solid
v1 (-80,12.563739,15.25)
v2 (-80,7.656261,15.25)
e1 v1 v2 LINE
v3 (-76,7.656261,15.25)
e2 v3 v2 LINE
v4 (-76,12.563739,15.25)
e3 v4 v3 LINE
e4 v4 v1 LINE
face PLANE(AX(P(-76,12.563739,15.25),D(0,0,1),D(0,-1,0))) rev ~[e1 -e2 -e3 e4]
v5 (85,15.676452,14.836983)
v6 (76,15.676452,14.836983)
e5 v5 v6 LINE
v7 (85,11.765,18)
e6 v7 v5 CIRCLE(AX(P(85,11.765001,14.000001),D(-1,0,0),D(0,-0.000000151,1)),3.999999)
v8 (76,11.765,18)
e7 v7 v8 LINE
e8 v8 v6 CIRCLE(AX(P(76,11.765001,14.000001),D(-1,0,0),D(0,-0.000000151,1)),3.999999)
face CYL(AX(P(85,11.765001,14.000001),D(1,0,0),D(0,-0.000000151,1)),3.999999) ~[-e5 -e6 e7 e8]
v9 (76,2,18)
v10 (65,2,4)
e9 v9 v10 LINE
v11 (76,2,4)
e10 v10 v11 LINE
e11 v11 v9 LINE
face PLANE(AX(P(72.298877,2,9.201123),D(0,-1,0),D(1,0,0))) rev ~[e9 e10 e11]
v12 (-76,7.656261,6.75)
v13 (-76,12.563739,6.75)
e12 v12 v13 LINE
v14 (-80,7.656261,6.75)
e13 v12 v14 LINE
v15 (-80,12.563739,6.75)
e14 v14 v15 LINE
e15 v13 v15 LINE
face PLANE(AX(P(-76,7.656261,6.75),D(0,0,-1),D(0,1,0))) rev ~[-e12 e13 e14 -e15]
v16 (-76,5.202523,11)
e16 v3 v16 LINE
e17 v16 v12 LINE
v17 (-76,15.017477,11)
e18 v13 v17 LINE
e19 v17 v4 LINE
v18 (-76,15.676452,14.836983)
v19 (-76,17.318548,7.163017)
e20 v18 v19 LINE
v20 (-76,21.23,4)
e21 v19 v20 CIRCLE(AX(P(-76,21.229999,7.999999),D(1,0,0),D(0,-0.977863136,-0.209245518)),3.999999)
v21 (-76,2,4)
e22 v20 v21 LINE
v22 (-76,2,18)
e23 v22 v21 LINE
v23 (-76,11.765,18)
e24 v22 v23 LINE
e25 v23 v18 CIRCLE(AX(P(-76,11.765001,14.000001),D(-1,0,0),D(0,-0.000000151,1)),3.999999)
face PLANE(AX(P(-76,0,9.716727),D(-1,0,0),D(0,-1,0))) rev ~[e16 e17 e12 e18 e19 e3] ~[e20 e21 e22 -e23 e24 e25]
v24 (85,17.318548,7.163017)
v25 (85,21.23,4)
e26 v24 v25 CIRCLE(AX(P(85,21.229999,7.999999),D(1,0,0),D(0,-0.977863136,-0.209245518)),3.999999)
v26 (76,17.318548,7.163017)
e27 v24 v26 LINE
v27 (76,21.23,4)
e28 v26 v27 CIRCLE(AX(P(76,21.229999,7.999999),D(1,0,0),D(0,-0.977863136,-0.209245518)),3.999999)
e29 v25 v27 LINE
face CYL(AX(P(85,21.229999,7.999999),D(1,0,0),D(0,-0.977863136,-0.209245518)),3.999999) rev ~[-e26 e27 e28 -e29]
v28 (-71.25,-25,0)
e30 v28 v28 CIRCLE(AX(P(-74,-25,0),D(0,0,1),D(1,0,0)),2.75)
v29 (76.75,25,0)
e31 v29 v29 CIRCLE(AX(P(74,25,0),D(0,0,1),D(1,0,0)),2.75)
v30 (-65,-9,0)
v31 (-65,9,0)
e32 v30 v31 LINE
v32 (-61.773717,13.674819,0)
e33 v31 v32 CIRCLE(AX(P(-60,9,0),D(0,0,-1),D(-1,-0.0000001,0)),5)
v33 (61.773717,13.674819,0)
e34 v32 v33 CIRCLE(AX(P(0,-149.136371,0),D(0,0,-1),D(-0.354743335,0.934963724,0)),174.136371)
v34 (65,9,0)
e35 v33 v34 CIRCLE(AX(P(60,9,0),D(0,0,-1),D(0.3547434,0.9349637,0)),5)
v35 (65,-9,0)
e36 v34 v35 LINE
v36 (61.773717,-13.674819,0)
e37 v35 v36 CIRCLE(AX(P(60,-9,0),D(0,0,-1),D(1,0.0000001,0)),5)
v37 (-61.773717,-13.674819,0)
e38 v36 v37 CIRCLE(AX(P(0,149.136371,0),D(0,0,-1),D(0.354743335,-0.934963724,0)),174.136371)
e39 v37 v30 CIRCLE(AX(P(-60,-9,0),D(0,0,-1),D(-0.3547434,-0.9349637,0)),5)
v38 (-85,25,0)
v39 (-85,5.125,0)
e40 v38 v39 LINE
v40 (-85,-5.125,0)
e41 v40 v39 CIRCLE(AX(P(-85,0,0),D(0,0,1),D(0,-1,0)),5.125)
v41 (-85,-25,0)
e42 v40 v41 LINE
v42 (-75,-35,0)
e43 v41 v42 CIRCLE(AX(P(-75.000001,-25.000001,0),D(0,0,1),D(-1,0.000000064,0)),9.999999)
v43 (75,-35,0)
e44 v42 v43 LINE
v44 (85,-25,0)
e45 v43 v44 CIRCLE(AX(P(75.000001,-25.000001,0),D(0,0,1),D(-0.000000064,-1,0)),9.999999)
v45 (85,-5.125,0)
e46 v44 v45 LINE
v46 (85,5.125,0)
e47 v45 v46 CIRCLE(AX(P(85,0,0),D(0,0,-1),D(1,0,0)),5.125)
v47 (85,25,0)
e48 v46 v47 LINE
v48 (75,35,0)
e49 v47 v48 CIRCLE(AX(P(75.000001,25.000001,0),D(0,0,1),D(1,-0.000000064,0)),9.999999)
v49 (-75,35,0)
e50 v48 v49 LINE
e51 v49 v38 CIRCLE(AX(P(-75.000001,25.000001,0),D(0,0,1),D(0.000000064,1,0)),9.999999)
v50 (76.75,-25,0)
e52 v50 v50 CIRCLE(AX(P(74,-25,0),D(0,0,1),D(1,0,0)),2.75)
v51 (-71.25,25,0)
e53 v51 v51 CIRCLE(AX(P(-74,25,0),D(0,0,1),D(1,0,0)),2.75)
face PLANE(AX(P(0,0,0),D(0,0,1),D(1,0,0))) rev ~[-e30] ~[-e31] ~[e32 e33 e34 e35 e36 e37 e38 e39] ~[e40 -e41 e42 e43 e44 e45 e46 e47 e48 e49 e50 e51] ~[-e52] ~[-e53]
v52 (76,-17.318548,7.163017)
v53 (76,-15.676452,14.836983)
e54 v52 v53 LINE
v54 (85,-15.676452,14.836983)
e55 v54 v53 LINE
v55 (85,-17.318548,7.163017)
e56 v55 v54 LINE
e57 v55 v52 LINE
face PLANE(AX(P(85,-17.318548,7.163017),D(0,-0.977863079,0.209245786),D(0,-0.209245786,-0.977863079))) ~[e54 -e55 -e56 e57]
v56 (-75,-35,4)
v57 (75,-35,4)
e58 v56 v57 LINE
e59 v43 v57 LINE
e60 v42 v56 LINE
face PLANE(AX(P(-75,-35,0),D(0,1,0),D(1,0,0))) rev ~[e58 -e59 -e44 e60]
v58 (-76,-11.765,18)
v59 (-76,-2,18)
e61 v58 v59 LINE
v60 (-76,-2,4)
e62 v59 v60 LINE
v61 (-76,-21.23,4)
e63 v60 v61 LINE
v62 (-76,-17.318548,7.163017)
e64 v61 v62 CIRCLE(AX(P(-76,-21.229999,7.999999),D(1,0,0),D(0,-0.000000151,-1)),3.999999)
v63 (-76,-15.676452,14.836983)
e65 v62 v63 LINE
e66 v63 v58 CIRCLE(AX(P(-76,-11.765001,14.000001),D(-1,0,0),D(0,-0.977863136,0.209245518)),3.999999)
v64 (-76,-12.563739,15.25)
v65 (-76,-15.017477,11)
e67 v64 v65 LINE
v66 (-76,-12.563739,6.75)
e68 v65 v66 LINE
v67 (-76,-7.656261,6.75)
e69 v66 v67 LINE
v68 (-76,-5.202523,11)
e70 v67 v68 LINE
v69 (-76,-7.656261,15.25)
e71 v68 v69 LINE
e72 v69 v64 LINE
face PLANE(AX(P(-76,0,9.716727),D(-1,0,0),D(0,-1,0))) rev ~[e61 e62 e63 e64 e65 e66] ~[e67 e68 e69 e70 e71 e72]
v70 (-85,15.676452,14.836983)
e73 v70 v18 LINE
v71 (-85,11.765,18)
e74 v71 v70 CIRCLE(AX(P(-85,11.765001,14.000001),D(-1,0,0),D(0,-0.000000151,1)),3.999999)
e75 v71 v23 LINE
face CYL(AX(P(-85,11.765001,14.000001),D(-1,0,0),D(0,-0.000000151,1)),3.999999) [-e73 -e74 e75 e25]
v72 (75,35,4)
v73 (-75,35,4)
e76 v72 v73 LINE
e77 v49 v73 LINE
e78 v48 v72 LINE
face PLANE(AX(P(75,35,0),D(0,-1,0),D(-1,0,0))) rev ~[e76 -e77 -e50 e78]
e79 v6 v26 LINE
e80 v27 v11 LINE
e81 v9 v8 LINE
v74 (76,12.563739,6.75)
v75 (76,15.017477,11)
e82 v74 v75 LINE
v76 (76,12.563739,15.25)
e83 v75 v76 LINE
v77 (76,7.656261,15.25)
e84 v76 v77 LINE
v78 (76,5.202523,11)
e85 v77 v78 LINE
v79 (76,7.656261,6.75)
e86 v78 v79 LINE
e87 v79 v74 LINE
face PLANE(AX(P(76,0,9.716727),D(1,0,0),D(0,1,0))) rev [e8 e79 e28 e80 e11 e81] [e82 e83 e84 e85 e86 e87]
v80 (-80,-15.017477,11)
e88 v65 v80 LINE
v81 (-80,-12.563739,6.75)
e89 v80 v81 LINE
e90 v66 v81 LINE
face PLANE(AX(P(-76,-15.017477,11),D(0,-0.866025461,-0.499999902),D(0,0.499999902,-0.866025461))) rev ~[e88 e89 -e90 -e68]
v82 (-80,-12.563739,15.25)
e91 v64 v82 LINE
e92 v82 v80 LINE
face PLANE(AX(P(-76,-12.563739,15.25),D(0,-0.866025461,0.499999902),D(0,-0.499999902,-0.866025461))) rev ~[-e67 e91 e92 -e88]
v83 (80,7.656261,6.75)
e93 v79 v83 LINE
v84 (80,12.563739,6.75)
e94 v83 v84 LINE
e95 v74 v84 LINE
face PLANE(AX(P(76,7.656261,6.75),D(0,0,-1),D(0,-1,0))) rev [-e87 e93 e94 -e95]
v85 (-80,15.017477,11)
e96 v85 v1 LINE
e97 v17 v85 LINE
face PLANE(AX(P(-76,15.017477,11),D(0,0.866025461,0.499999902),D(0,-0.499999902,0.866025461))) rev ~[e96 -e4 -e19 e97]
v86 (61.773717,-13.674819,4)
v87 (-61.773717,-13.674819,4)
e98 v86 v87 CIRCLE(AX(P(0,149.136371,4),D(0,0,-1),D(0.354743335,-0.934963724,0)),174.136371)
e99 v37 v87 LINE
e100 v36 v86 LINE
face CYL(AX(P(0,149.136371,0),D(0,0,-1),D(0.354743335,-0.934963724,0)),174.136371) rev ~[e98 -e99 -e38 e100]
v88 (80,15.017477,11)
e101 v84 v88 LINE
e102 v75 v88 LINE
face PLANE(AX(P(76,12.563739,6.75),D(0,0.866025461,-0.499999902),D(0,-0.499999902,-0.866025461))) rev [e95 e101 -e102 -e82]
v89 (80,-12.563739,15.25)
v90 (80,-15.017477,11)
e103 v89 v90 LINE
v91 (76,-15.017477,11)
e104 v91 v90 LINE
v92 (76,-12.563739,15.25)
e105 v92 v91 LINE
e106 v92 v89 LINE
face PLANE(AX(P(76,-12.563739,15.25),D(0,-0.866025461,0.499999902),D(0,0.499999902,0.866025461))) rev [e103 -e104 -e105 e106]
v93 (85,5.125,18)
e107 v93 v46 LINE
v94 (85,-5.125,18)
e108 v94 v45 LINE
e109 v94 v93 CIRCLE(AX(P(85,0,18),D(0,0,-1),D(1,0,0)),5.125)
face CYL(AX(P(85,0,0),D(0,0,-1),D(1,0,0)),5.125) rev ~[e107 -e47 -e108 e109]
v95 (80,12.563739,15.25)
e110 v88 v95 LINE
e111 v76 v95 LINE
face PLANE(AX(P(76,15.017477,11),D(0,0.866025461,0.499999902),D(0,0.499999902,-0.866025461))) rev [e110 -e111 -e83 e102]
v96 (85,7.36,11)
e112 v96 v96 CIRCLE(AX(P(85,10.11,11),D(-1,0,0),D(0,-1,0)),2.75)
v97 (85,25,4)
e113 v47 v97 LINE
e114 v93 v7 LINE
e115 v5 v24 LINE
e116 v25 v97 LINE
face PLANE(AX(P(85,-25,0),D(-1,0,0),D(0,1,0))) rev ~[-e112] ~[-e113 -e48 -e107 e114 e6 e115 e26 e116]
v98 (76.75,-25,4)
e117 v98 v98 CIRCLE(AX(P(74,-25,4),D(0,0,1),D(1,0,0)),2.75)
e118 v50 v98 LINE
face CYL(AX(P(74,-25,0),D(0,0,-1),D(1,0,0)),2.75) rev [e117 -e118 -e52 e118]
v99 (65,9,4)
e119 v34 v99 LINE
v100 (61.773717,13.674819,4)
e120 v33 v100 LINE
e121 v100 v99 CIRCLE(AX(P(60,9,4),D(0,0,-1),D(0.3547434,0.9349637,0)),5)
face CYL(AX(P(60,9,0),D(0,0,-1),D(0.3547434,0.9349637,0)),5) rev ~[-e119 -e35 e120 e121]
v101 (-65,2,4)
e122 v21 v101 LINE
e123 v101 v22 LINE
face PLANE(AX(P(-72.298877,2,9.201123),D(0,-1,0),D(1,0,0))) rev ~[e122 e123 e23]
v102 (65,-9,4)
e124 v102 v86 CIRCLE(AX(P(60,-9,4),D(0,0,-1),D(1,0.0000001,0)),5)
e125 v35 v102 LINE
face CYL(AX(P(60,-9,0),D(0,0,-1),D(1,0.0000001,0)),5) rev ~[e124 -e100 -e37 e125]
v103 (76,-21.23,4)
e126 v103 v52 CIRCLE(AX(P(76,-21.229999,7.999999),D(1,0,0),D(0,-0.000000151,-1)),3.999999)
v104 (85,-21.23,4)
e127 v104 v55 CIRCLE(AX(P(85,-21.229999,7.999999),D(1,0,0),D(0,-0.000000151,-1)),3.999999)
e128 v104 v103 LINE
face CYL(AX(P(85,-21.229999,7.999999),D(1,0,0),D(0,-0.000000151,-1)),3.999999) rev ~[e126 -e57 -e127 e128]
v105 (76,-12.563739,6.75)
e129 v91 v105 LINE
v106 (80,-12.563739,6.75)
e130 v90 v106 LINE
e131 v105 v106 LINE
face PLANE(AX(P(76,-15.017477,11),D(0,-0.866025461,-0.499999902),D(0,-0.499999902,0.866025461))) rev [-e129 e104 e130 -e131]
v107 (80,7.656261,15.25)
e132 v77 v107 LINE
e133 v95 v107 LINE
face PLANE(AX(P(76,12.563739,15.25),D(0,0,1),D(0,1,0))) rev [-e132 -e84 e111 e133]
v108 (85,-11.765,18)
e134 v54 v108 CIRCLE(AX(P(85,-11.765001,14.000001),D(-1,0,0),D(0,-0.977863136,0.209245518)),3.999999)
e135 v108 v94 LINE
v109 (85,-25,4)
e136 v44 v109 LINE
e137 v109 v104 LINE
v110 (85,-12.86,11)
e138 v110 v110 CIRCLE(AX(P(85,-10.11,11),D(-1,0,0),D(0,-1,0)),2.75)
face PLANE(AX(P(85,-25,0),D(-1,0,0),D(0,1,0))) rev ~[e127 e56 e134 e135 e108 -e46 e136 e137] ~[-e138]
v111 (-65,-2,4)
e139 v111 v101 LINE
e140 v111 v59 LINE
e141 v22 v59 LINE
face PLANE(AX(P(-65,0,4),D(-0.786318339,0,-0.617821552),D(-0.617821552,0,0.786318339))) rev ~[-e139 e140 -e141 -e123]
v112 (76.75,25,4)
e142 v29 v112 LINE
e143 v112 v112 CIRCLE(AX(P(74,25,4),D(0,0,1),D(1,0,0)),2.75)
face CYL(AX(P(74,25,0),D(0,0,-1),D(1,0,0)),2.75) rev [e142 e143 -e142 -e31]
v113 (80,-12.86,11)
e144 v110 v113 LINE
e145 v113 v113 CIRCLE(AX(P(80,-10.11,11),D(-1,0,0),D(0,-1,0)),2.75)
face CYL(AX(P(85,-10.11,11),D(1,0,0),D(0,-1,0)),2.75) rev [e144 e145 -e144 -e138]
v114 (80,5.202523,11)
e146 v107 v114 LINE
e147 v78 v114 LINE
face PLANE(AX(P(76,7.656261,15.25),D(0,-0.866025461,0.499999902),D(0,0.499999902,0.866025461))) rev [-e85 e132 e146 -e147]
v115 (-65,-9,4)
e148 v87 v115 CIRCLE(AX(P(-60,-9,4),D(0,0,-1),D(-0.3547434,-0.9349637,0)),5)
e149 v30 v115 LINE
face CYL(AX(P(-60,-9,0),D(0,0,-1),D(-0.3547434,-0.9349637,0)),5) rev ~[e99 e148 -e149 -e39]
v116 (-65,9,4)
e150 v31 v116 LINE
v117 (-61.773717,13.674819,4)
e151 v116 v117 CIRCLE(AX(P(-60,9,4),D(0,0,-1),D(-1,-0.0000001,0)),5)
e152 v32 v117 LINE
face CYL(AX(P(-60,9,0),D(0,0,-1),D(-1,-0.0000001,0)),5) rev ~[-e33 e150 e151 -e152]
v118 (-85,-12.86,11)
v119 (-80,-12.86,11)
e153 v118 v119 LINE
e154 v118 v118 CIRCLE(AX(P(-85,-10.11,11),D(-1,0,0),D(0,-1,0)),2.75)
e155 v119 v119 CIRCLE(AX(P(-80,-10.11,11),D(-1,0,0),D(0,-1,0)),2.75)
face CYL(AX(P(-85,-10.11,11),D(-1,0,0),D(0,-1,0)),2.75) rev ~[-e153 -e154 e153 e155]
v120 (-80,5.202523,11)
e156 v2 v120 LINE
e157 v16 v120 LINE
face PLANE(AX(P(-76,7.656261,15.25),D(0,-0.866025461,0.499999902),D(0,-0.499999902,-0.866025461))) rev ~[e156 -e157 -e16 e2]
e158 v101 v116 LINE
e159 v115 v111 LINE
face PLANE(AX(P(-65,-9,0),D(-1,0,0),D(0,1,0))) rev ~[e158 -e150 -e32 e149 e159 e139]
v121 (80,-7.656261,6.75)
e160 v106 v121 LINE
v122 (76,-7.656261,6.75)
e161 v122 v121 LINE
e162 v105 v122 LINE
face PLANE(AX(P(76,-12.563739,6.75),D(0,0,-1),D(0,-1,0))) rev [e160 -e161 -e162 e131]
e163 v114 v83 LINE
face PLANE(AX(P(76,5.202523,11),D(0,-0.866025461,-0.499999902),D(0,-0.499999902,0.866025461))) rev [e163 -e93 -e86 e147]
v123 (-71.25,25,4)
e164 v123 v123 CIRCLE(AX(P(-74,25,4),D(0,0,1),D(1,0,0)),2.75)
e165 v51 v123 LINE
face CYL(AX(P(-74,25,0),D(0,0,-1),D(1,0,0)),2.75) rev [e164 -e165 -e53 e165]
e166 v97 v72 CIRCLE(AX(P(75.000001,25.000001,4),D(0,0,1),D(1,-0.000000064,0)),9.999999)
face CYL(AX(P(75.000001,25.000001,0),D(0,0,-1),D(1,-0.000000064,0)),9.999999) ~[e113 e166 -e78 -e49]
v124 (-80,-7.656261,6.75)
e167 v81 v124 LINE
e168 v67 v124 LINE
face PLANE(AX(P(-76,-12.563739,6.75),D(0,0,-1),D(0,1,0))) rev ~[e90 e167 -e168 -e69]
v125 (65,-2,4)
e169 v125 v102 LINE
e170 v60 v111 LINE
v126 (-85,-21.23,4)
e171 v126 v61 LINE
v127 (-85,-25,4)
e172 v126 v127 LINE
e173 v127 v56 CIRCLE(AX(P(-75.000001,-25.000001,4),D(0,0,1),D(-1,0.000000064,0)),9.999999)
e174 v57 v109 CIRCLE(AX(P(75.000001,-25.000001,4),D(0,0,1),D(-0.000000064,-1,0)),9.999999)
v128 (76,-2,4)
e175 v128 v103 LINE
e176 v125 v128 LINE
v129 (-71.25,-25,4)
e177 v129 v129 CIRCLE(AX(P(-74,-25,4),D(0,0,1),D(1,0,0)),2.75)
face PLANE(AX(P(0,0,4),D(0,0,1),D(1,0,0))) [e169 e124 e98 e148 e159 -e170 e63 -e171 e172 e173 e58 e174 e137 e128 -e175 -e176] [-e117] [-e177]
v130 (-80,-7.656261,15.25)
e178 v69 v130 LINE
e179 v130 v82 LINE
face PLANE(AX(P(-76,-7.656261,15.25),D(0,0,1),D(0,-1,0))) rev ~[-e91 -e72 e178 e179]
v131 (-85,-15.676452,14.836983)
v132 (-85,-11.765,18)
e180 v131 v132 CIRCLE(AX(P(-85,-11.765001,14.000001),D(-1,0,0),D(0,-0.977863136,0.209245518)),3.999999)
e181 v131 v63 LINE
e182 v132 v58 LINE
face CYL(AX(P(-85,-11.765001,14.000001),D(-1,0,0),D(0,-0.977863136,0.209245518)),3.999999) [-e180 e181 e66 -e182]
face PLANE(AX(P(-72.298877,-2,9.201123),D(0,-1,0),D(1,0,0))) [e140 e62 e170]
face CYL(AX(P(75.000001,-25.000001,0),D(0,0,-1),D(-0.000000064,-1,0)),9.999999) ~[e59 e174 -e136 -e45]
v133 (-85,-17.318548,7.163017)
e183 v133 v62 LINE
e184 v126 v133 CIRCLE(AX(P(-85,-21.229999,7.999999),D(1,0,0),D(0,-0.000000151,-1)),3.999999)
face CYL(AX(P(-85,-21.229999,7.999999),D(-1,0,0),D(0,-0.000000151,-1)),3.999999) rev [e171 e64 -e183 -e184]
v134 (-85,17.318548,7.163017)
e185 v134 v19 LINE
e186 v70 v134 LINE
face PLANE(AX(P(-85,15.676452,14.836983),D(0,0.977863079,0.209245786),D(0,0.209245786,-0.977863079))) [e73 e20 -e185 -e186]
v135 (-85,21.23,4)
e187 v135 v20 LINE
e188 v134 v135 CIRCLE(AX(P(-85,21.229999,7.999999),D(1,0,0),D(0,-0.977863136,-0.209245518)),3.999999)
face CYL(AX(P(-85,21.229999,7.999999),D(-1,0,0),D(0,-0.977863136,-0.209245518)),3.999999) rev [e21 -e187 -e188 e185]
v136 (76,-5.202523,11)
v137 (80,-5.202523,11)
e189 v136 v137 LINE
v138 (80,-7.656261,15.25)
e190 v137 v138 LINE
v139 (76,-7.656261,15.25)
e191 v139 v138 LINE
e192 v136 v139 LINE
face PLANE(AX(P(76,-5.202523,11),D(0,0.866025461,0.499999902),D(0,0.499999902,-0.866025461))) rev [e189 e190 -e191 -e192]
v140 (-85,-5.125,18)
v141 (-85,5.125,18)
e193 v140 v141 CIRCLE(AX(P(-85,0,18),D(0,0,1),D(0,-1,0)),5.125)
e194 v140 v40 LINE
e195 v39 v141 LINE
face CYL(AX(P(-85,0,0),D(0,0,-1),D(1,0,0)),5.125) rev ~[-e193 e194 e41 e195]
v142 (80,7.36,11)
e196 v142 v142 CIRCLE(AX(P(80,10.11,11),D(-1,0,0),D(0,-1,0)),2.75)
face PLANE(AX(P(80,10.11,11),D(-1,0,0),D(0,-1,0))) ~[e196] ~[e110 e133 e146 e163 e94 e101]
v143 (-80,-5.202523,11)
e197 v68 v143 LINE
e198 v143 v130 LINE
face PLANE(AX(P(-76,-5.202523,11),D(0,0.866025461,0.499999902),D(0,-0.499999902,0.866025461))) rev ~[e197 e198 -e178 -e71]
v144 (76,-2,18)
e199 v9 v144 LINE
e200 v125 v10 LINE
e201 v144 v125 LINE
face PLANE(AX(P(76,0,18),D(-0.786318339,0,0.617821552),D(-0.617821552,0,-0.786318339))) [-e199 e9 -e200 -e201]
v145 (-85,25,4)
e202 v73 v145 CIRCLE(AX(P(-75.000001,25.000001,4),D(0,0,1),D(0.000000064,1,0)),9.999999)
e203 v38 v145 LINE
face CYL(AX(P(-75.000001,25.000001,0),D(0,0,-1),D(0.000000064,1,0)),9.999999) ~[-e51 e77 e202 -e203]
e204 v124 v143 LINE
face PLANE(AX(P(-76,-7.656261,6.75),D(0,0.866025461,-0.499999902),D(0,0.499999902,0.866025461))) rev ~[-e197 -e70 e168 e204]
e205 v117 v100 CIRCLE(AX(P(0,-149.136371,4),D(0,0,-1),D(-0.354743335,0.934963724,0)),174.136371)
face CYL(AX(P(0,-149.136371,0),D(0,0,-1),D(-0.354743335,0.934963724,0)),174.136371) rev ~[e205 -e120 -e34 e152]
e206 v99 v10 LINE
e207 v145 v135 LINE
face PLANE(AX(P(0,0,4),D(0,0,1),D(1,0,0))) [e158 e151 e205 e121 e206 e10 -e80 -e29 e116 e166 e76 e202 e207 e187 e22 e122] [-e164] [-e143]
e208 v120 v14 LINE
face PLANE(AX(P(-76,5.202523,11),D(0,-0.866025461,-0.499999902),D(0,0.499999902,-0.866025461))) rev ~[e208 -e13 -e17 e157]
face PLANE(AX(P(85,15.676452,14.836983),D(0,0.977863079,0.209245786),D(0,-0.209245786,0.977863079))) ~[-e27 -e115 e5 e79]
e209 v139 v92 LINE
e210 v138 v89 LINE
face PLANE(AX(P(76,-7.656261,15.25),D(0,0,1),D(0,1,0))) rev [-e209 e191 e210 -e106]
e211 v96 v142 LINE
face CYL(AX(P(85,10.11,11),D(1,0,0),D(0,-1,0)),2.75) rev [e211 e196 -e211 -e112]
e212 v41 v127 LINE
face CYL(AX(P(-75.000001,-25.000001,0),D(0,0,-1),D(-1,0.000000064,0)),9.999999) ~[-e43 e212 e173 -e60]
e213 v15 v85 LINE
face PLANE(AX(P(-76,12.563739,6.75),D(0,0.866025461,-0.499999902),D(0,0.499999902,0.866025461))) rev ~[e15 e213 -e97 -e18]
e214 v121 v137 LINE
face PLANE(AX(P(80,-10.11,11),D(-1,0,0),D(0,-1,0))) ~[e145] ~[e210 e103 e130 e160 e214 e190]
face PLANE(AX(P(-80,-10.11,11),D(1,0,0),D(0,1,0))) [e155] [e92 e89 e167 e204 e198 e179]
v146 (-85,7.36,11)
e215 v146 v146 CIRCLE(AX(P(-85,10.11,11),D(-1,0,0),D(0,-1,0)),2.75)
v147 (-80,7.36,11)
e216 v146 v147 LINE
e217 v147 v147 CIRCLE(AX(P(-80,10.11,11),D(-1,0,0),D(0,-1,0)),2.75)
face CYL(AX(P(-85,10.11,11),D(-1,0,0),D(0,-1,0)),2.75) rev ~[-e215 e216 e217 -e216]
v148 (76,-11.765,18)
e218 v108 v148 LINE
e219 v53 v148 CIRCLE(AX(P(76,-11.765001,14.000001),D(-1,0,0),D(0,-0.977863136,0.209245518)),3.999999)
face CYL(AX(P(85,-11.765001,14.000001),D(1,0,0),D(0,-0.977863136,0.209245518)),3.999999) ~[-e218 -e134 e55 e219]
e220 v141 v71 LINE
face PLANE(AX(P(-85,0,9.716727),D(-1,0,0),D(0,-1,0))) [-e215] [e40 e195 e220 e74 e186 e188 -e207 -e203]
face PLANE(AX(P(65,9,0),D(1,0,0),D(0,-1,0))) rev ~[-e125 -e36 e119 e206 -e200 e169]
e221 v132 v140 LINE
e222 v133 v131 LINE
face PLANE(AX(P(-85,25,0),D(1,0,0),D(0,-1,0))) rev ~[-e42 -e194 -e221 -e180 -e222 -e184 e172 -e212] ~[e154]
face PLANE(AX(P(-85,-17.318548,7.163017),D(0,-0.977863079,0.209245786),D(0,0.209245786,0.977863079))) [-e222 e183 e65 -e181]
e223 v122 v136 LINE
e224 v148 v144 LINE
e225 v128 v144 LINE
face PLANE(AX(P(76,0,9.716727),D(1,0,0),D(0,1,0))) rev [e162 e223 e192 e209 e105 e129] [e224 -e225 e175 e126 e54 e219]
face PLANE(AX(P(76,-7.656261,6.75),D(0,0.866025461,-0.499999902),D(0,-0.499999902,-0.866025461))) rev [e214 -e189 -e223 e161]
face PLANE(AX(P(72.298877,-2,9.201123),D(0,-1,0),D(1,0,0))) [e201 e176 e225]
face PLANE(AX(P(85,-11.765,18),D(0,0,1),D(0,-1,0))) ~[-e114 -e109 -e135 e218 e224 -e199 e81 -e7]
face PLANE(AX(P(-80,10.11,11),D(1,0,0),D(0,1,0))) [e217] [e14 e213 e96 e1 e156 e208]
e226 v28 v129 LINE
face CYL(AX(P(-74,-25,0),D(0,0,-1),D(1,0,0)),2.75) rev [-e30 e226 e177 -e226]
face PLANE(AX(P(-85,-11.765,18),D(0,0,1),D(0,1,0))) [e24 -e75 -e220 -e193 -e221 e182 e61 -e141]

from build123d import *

# Parameters (mm, degrees)
F0_R      = 2.75
F1_DEPTH  = 4
F2_R      = 2.75
F3_DEPTH  = 9
F5_DEPTH  = 4
F7_R      = 5.125
F8_DEPTH  = 18.001
F10_DEPTH = 2


with BuildPart() as f1:
    # F0 (on Top) → F1 (new body)
    with BuildSketch(Plane.XY):
        with BuildLine():
            ThreePointArc((85, 25), (82.071068, 32.071068), (75, 35))
            Line((75, 35), (-75, 35))
            ThreePointArc((-75, 35), (-82.071068, 32.071068), (-85, 25))
            Line((-85, 25), (-85, -25))
            ThreePointArc((-85, -25), (-82.071068, -32.071068), (-75, -35))
            Line((-75, -35), (75, -35))
            ThreePointArc((75, -35), (82.071068, -32.071068), (85, -25))
            Line((85, -25), (85, 25))
        make_face()
        with Locations((-74, -25)):
            Circle(F0_R, mode=Mode.SUBTRACT)
        with Locations((74, -25)):
            Circle(F0_R, mode=Mode.SUBTRACT)
        with BuildLine():
            ThreePointArc((61.773717, 13.674819), (64.11513, 11.840019), (65, 9))
            Line((65, 9), (65, -9))
            ThreePointArc((65, -9), (64.11513, -11.840019), (61.773717, -13.674819))
            ThreePointArc((61.773717, -13.674819), (0, -25), (-61.773717, -13.674819))
            ThreePointArc((-61.773717, -13.674819), (-64.11513, -11.840019), (-65, -9))
            Line((-65, -9), (-65, 9))
            ThreePointArc((-65, 9), (-64.11513, 11.840019), (-61.773717, 13.674819))
            ThreePointArc((-61.773717, 13.674819), (0, 25), (61.773717, 13.674819))
        make_face(mode=Mode.SUBTRACT)
        with Locations((-74, 25)):
            Circle(F0_R, mode=Mode.SUBTRACT)
        with Locations((74, 25)):
            Circle(F0_R, mode=Mode.SUBTRACT)
    extrude(amount=F1_DEPTH)

    # F6: F3 across plane


with BuildPart() as f3:
    # F2 (on face) → F3 (new body)
    with BuildSketch(Plane(origin=(-85, 0, 0), x_dir=(0, -1, 0), z_dir=(-1, 0, 0))):
        with BuildLine():
            ThreePointArc((-17.318548, 7.163017), (-18.714839, 4.8897), (-21.23, 4))
            Line((-21.23, 4), (21.23, 4))
            ThreePointArc((21.23, 4), (18.714839, 4.8897), (17.318548, 7.163017))
            Line((17.318548, 7.163017), (15.676452, 14.836983))
            ThreePointArc((15.676452, 14.836983), (14.280161, 17.1103), (11.765, 18))
            Line((11.765, 18), (-11.765, 18))
            ThreePointArc((-11.765, 18), (-14.280161, 17.1103), (-15.676452, 14.836983))
            Line((-15.676452, 14.836983), (-17.318548, 7.163017))
        make_face()
        with Locations((-10.11, 11)):
            Circle(F2_R, mode=Mode.SUBTRACT)
        with Locations((10.11, 11)):
            Circle(F2_R, mode=Mode.SUBTRACT)
    extrude(amount=-F3_DEPTH)

    # F4 (on face) → F5 (cut)
    with BuildSketch(Plane.YZ.offset(-76)):
        Polygon((-5.202523, 11), (-7.656261, 15.25), (-12.563739, 15.25), (-15.017477, 11), (-12.563739, 6.75), (-7.656261, 6.75), align=None)
        Polygon((5.202523, 11), (7.656261, 6.75), (12.563739, 6.75), (15.017477, 11), (12.563739, 15.25), (7.656261, 15.25), align=None)
    extrude(amount=-F5_DEPTH, mode=Mode.SUBTRACT)


with BuildPart() as f1_1:
    add(f1.part)
    add(f3.part.mirror(Plane.YZ))


with BuildPart() as f8_tool:
    # F7 (on face) → F8 (new body, through all)
    with BuildSketch(Plane(origin=(0, 0, 0), x_dir=(1, 0, 0), z_dir=(0, 0, -1))):
        with Locations((-85, 0)):
            Circle(F7_R)
        with Locations((85, 0)):
            Circle(F7_R)
    extrude(amount=-F8_DEPTH)


with BuildPart() as f1_2:
    add(f1_1.part)

    # F8: cut by f8_tool
    add(f8_tool.part, mode=Mode.SUBTRACT)



with BuildPart() as f3_1:
    add(f3.part)

    # F8: cut by f8_tool
    add(f8_tool.part, mode=Mode.SUBTRACT)


with BuildPart() as f1_3:
    add(f1_2.part)

    add(f3_1.part)  # F10 merges F3
    # F9 (on Front) → F10 (join, symmetric)
    with BuildSketch(Plane.XZ):
        Polygon((-65, 4), (-76, 18), (-76, 4), align=None)
        Polygon((76, 4), (76, 18), (65, 4), align=None)
    extrude(amount=F10_DEPTH, both=True)


solid = f1_3.part
